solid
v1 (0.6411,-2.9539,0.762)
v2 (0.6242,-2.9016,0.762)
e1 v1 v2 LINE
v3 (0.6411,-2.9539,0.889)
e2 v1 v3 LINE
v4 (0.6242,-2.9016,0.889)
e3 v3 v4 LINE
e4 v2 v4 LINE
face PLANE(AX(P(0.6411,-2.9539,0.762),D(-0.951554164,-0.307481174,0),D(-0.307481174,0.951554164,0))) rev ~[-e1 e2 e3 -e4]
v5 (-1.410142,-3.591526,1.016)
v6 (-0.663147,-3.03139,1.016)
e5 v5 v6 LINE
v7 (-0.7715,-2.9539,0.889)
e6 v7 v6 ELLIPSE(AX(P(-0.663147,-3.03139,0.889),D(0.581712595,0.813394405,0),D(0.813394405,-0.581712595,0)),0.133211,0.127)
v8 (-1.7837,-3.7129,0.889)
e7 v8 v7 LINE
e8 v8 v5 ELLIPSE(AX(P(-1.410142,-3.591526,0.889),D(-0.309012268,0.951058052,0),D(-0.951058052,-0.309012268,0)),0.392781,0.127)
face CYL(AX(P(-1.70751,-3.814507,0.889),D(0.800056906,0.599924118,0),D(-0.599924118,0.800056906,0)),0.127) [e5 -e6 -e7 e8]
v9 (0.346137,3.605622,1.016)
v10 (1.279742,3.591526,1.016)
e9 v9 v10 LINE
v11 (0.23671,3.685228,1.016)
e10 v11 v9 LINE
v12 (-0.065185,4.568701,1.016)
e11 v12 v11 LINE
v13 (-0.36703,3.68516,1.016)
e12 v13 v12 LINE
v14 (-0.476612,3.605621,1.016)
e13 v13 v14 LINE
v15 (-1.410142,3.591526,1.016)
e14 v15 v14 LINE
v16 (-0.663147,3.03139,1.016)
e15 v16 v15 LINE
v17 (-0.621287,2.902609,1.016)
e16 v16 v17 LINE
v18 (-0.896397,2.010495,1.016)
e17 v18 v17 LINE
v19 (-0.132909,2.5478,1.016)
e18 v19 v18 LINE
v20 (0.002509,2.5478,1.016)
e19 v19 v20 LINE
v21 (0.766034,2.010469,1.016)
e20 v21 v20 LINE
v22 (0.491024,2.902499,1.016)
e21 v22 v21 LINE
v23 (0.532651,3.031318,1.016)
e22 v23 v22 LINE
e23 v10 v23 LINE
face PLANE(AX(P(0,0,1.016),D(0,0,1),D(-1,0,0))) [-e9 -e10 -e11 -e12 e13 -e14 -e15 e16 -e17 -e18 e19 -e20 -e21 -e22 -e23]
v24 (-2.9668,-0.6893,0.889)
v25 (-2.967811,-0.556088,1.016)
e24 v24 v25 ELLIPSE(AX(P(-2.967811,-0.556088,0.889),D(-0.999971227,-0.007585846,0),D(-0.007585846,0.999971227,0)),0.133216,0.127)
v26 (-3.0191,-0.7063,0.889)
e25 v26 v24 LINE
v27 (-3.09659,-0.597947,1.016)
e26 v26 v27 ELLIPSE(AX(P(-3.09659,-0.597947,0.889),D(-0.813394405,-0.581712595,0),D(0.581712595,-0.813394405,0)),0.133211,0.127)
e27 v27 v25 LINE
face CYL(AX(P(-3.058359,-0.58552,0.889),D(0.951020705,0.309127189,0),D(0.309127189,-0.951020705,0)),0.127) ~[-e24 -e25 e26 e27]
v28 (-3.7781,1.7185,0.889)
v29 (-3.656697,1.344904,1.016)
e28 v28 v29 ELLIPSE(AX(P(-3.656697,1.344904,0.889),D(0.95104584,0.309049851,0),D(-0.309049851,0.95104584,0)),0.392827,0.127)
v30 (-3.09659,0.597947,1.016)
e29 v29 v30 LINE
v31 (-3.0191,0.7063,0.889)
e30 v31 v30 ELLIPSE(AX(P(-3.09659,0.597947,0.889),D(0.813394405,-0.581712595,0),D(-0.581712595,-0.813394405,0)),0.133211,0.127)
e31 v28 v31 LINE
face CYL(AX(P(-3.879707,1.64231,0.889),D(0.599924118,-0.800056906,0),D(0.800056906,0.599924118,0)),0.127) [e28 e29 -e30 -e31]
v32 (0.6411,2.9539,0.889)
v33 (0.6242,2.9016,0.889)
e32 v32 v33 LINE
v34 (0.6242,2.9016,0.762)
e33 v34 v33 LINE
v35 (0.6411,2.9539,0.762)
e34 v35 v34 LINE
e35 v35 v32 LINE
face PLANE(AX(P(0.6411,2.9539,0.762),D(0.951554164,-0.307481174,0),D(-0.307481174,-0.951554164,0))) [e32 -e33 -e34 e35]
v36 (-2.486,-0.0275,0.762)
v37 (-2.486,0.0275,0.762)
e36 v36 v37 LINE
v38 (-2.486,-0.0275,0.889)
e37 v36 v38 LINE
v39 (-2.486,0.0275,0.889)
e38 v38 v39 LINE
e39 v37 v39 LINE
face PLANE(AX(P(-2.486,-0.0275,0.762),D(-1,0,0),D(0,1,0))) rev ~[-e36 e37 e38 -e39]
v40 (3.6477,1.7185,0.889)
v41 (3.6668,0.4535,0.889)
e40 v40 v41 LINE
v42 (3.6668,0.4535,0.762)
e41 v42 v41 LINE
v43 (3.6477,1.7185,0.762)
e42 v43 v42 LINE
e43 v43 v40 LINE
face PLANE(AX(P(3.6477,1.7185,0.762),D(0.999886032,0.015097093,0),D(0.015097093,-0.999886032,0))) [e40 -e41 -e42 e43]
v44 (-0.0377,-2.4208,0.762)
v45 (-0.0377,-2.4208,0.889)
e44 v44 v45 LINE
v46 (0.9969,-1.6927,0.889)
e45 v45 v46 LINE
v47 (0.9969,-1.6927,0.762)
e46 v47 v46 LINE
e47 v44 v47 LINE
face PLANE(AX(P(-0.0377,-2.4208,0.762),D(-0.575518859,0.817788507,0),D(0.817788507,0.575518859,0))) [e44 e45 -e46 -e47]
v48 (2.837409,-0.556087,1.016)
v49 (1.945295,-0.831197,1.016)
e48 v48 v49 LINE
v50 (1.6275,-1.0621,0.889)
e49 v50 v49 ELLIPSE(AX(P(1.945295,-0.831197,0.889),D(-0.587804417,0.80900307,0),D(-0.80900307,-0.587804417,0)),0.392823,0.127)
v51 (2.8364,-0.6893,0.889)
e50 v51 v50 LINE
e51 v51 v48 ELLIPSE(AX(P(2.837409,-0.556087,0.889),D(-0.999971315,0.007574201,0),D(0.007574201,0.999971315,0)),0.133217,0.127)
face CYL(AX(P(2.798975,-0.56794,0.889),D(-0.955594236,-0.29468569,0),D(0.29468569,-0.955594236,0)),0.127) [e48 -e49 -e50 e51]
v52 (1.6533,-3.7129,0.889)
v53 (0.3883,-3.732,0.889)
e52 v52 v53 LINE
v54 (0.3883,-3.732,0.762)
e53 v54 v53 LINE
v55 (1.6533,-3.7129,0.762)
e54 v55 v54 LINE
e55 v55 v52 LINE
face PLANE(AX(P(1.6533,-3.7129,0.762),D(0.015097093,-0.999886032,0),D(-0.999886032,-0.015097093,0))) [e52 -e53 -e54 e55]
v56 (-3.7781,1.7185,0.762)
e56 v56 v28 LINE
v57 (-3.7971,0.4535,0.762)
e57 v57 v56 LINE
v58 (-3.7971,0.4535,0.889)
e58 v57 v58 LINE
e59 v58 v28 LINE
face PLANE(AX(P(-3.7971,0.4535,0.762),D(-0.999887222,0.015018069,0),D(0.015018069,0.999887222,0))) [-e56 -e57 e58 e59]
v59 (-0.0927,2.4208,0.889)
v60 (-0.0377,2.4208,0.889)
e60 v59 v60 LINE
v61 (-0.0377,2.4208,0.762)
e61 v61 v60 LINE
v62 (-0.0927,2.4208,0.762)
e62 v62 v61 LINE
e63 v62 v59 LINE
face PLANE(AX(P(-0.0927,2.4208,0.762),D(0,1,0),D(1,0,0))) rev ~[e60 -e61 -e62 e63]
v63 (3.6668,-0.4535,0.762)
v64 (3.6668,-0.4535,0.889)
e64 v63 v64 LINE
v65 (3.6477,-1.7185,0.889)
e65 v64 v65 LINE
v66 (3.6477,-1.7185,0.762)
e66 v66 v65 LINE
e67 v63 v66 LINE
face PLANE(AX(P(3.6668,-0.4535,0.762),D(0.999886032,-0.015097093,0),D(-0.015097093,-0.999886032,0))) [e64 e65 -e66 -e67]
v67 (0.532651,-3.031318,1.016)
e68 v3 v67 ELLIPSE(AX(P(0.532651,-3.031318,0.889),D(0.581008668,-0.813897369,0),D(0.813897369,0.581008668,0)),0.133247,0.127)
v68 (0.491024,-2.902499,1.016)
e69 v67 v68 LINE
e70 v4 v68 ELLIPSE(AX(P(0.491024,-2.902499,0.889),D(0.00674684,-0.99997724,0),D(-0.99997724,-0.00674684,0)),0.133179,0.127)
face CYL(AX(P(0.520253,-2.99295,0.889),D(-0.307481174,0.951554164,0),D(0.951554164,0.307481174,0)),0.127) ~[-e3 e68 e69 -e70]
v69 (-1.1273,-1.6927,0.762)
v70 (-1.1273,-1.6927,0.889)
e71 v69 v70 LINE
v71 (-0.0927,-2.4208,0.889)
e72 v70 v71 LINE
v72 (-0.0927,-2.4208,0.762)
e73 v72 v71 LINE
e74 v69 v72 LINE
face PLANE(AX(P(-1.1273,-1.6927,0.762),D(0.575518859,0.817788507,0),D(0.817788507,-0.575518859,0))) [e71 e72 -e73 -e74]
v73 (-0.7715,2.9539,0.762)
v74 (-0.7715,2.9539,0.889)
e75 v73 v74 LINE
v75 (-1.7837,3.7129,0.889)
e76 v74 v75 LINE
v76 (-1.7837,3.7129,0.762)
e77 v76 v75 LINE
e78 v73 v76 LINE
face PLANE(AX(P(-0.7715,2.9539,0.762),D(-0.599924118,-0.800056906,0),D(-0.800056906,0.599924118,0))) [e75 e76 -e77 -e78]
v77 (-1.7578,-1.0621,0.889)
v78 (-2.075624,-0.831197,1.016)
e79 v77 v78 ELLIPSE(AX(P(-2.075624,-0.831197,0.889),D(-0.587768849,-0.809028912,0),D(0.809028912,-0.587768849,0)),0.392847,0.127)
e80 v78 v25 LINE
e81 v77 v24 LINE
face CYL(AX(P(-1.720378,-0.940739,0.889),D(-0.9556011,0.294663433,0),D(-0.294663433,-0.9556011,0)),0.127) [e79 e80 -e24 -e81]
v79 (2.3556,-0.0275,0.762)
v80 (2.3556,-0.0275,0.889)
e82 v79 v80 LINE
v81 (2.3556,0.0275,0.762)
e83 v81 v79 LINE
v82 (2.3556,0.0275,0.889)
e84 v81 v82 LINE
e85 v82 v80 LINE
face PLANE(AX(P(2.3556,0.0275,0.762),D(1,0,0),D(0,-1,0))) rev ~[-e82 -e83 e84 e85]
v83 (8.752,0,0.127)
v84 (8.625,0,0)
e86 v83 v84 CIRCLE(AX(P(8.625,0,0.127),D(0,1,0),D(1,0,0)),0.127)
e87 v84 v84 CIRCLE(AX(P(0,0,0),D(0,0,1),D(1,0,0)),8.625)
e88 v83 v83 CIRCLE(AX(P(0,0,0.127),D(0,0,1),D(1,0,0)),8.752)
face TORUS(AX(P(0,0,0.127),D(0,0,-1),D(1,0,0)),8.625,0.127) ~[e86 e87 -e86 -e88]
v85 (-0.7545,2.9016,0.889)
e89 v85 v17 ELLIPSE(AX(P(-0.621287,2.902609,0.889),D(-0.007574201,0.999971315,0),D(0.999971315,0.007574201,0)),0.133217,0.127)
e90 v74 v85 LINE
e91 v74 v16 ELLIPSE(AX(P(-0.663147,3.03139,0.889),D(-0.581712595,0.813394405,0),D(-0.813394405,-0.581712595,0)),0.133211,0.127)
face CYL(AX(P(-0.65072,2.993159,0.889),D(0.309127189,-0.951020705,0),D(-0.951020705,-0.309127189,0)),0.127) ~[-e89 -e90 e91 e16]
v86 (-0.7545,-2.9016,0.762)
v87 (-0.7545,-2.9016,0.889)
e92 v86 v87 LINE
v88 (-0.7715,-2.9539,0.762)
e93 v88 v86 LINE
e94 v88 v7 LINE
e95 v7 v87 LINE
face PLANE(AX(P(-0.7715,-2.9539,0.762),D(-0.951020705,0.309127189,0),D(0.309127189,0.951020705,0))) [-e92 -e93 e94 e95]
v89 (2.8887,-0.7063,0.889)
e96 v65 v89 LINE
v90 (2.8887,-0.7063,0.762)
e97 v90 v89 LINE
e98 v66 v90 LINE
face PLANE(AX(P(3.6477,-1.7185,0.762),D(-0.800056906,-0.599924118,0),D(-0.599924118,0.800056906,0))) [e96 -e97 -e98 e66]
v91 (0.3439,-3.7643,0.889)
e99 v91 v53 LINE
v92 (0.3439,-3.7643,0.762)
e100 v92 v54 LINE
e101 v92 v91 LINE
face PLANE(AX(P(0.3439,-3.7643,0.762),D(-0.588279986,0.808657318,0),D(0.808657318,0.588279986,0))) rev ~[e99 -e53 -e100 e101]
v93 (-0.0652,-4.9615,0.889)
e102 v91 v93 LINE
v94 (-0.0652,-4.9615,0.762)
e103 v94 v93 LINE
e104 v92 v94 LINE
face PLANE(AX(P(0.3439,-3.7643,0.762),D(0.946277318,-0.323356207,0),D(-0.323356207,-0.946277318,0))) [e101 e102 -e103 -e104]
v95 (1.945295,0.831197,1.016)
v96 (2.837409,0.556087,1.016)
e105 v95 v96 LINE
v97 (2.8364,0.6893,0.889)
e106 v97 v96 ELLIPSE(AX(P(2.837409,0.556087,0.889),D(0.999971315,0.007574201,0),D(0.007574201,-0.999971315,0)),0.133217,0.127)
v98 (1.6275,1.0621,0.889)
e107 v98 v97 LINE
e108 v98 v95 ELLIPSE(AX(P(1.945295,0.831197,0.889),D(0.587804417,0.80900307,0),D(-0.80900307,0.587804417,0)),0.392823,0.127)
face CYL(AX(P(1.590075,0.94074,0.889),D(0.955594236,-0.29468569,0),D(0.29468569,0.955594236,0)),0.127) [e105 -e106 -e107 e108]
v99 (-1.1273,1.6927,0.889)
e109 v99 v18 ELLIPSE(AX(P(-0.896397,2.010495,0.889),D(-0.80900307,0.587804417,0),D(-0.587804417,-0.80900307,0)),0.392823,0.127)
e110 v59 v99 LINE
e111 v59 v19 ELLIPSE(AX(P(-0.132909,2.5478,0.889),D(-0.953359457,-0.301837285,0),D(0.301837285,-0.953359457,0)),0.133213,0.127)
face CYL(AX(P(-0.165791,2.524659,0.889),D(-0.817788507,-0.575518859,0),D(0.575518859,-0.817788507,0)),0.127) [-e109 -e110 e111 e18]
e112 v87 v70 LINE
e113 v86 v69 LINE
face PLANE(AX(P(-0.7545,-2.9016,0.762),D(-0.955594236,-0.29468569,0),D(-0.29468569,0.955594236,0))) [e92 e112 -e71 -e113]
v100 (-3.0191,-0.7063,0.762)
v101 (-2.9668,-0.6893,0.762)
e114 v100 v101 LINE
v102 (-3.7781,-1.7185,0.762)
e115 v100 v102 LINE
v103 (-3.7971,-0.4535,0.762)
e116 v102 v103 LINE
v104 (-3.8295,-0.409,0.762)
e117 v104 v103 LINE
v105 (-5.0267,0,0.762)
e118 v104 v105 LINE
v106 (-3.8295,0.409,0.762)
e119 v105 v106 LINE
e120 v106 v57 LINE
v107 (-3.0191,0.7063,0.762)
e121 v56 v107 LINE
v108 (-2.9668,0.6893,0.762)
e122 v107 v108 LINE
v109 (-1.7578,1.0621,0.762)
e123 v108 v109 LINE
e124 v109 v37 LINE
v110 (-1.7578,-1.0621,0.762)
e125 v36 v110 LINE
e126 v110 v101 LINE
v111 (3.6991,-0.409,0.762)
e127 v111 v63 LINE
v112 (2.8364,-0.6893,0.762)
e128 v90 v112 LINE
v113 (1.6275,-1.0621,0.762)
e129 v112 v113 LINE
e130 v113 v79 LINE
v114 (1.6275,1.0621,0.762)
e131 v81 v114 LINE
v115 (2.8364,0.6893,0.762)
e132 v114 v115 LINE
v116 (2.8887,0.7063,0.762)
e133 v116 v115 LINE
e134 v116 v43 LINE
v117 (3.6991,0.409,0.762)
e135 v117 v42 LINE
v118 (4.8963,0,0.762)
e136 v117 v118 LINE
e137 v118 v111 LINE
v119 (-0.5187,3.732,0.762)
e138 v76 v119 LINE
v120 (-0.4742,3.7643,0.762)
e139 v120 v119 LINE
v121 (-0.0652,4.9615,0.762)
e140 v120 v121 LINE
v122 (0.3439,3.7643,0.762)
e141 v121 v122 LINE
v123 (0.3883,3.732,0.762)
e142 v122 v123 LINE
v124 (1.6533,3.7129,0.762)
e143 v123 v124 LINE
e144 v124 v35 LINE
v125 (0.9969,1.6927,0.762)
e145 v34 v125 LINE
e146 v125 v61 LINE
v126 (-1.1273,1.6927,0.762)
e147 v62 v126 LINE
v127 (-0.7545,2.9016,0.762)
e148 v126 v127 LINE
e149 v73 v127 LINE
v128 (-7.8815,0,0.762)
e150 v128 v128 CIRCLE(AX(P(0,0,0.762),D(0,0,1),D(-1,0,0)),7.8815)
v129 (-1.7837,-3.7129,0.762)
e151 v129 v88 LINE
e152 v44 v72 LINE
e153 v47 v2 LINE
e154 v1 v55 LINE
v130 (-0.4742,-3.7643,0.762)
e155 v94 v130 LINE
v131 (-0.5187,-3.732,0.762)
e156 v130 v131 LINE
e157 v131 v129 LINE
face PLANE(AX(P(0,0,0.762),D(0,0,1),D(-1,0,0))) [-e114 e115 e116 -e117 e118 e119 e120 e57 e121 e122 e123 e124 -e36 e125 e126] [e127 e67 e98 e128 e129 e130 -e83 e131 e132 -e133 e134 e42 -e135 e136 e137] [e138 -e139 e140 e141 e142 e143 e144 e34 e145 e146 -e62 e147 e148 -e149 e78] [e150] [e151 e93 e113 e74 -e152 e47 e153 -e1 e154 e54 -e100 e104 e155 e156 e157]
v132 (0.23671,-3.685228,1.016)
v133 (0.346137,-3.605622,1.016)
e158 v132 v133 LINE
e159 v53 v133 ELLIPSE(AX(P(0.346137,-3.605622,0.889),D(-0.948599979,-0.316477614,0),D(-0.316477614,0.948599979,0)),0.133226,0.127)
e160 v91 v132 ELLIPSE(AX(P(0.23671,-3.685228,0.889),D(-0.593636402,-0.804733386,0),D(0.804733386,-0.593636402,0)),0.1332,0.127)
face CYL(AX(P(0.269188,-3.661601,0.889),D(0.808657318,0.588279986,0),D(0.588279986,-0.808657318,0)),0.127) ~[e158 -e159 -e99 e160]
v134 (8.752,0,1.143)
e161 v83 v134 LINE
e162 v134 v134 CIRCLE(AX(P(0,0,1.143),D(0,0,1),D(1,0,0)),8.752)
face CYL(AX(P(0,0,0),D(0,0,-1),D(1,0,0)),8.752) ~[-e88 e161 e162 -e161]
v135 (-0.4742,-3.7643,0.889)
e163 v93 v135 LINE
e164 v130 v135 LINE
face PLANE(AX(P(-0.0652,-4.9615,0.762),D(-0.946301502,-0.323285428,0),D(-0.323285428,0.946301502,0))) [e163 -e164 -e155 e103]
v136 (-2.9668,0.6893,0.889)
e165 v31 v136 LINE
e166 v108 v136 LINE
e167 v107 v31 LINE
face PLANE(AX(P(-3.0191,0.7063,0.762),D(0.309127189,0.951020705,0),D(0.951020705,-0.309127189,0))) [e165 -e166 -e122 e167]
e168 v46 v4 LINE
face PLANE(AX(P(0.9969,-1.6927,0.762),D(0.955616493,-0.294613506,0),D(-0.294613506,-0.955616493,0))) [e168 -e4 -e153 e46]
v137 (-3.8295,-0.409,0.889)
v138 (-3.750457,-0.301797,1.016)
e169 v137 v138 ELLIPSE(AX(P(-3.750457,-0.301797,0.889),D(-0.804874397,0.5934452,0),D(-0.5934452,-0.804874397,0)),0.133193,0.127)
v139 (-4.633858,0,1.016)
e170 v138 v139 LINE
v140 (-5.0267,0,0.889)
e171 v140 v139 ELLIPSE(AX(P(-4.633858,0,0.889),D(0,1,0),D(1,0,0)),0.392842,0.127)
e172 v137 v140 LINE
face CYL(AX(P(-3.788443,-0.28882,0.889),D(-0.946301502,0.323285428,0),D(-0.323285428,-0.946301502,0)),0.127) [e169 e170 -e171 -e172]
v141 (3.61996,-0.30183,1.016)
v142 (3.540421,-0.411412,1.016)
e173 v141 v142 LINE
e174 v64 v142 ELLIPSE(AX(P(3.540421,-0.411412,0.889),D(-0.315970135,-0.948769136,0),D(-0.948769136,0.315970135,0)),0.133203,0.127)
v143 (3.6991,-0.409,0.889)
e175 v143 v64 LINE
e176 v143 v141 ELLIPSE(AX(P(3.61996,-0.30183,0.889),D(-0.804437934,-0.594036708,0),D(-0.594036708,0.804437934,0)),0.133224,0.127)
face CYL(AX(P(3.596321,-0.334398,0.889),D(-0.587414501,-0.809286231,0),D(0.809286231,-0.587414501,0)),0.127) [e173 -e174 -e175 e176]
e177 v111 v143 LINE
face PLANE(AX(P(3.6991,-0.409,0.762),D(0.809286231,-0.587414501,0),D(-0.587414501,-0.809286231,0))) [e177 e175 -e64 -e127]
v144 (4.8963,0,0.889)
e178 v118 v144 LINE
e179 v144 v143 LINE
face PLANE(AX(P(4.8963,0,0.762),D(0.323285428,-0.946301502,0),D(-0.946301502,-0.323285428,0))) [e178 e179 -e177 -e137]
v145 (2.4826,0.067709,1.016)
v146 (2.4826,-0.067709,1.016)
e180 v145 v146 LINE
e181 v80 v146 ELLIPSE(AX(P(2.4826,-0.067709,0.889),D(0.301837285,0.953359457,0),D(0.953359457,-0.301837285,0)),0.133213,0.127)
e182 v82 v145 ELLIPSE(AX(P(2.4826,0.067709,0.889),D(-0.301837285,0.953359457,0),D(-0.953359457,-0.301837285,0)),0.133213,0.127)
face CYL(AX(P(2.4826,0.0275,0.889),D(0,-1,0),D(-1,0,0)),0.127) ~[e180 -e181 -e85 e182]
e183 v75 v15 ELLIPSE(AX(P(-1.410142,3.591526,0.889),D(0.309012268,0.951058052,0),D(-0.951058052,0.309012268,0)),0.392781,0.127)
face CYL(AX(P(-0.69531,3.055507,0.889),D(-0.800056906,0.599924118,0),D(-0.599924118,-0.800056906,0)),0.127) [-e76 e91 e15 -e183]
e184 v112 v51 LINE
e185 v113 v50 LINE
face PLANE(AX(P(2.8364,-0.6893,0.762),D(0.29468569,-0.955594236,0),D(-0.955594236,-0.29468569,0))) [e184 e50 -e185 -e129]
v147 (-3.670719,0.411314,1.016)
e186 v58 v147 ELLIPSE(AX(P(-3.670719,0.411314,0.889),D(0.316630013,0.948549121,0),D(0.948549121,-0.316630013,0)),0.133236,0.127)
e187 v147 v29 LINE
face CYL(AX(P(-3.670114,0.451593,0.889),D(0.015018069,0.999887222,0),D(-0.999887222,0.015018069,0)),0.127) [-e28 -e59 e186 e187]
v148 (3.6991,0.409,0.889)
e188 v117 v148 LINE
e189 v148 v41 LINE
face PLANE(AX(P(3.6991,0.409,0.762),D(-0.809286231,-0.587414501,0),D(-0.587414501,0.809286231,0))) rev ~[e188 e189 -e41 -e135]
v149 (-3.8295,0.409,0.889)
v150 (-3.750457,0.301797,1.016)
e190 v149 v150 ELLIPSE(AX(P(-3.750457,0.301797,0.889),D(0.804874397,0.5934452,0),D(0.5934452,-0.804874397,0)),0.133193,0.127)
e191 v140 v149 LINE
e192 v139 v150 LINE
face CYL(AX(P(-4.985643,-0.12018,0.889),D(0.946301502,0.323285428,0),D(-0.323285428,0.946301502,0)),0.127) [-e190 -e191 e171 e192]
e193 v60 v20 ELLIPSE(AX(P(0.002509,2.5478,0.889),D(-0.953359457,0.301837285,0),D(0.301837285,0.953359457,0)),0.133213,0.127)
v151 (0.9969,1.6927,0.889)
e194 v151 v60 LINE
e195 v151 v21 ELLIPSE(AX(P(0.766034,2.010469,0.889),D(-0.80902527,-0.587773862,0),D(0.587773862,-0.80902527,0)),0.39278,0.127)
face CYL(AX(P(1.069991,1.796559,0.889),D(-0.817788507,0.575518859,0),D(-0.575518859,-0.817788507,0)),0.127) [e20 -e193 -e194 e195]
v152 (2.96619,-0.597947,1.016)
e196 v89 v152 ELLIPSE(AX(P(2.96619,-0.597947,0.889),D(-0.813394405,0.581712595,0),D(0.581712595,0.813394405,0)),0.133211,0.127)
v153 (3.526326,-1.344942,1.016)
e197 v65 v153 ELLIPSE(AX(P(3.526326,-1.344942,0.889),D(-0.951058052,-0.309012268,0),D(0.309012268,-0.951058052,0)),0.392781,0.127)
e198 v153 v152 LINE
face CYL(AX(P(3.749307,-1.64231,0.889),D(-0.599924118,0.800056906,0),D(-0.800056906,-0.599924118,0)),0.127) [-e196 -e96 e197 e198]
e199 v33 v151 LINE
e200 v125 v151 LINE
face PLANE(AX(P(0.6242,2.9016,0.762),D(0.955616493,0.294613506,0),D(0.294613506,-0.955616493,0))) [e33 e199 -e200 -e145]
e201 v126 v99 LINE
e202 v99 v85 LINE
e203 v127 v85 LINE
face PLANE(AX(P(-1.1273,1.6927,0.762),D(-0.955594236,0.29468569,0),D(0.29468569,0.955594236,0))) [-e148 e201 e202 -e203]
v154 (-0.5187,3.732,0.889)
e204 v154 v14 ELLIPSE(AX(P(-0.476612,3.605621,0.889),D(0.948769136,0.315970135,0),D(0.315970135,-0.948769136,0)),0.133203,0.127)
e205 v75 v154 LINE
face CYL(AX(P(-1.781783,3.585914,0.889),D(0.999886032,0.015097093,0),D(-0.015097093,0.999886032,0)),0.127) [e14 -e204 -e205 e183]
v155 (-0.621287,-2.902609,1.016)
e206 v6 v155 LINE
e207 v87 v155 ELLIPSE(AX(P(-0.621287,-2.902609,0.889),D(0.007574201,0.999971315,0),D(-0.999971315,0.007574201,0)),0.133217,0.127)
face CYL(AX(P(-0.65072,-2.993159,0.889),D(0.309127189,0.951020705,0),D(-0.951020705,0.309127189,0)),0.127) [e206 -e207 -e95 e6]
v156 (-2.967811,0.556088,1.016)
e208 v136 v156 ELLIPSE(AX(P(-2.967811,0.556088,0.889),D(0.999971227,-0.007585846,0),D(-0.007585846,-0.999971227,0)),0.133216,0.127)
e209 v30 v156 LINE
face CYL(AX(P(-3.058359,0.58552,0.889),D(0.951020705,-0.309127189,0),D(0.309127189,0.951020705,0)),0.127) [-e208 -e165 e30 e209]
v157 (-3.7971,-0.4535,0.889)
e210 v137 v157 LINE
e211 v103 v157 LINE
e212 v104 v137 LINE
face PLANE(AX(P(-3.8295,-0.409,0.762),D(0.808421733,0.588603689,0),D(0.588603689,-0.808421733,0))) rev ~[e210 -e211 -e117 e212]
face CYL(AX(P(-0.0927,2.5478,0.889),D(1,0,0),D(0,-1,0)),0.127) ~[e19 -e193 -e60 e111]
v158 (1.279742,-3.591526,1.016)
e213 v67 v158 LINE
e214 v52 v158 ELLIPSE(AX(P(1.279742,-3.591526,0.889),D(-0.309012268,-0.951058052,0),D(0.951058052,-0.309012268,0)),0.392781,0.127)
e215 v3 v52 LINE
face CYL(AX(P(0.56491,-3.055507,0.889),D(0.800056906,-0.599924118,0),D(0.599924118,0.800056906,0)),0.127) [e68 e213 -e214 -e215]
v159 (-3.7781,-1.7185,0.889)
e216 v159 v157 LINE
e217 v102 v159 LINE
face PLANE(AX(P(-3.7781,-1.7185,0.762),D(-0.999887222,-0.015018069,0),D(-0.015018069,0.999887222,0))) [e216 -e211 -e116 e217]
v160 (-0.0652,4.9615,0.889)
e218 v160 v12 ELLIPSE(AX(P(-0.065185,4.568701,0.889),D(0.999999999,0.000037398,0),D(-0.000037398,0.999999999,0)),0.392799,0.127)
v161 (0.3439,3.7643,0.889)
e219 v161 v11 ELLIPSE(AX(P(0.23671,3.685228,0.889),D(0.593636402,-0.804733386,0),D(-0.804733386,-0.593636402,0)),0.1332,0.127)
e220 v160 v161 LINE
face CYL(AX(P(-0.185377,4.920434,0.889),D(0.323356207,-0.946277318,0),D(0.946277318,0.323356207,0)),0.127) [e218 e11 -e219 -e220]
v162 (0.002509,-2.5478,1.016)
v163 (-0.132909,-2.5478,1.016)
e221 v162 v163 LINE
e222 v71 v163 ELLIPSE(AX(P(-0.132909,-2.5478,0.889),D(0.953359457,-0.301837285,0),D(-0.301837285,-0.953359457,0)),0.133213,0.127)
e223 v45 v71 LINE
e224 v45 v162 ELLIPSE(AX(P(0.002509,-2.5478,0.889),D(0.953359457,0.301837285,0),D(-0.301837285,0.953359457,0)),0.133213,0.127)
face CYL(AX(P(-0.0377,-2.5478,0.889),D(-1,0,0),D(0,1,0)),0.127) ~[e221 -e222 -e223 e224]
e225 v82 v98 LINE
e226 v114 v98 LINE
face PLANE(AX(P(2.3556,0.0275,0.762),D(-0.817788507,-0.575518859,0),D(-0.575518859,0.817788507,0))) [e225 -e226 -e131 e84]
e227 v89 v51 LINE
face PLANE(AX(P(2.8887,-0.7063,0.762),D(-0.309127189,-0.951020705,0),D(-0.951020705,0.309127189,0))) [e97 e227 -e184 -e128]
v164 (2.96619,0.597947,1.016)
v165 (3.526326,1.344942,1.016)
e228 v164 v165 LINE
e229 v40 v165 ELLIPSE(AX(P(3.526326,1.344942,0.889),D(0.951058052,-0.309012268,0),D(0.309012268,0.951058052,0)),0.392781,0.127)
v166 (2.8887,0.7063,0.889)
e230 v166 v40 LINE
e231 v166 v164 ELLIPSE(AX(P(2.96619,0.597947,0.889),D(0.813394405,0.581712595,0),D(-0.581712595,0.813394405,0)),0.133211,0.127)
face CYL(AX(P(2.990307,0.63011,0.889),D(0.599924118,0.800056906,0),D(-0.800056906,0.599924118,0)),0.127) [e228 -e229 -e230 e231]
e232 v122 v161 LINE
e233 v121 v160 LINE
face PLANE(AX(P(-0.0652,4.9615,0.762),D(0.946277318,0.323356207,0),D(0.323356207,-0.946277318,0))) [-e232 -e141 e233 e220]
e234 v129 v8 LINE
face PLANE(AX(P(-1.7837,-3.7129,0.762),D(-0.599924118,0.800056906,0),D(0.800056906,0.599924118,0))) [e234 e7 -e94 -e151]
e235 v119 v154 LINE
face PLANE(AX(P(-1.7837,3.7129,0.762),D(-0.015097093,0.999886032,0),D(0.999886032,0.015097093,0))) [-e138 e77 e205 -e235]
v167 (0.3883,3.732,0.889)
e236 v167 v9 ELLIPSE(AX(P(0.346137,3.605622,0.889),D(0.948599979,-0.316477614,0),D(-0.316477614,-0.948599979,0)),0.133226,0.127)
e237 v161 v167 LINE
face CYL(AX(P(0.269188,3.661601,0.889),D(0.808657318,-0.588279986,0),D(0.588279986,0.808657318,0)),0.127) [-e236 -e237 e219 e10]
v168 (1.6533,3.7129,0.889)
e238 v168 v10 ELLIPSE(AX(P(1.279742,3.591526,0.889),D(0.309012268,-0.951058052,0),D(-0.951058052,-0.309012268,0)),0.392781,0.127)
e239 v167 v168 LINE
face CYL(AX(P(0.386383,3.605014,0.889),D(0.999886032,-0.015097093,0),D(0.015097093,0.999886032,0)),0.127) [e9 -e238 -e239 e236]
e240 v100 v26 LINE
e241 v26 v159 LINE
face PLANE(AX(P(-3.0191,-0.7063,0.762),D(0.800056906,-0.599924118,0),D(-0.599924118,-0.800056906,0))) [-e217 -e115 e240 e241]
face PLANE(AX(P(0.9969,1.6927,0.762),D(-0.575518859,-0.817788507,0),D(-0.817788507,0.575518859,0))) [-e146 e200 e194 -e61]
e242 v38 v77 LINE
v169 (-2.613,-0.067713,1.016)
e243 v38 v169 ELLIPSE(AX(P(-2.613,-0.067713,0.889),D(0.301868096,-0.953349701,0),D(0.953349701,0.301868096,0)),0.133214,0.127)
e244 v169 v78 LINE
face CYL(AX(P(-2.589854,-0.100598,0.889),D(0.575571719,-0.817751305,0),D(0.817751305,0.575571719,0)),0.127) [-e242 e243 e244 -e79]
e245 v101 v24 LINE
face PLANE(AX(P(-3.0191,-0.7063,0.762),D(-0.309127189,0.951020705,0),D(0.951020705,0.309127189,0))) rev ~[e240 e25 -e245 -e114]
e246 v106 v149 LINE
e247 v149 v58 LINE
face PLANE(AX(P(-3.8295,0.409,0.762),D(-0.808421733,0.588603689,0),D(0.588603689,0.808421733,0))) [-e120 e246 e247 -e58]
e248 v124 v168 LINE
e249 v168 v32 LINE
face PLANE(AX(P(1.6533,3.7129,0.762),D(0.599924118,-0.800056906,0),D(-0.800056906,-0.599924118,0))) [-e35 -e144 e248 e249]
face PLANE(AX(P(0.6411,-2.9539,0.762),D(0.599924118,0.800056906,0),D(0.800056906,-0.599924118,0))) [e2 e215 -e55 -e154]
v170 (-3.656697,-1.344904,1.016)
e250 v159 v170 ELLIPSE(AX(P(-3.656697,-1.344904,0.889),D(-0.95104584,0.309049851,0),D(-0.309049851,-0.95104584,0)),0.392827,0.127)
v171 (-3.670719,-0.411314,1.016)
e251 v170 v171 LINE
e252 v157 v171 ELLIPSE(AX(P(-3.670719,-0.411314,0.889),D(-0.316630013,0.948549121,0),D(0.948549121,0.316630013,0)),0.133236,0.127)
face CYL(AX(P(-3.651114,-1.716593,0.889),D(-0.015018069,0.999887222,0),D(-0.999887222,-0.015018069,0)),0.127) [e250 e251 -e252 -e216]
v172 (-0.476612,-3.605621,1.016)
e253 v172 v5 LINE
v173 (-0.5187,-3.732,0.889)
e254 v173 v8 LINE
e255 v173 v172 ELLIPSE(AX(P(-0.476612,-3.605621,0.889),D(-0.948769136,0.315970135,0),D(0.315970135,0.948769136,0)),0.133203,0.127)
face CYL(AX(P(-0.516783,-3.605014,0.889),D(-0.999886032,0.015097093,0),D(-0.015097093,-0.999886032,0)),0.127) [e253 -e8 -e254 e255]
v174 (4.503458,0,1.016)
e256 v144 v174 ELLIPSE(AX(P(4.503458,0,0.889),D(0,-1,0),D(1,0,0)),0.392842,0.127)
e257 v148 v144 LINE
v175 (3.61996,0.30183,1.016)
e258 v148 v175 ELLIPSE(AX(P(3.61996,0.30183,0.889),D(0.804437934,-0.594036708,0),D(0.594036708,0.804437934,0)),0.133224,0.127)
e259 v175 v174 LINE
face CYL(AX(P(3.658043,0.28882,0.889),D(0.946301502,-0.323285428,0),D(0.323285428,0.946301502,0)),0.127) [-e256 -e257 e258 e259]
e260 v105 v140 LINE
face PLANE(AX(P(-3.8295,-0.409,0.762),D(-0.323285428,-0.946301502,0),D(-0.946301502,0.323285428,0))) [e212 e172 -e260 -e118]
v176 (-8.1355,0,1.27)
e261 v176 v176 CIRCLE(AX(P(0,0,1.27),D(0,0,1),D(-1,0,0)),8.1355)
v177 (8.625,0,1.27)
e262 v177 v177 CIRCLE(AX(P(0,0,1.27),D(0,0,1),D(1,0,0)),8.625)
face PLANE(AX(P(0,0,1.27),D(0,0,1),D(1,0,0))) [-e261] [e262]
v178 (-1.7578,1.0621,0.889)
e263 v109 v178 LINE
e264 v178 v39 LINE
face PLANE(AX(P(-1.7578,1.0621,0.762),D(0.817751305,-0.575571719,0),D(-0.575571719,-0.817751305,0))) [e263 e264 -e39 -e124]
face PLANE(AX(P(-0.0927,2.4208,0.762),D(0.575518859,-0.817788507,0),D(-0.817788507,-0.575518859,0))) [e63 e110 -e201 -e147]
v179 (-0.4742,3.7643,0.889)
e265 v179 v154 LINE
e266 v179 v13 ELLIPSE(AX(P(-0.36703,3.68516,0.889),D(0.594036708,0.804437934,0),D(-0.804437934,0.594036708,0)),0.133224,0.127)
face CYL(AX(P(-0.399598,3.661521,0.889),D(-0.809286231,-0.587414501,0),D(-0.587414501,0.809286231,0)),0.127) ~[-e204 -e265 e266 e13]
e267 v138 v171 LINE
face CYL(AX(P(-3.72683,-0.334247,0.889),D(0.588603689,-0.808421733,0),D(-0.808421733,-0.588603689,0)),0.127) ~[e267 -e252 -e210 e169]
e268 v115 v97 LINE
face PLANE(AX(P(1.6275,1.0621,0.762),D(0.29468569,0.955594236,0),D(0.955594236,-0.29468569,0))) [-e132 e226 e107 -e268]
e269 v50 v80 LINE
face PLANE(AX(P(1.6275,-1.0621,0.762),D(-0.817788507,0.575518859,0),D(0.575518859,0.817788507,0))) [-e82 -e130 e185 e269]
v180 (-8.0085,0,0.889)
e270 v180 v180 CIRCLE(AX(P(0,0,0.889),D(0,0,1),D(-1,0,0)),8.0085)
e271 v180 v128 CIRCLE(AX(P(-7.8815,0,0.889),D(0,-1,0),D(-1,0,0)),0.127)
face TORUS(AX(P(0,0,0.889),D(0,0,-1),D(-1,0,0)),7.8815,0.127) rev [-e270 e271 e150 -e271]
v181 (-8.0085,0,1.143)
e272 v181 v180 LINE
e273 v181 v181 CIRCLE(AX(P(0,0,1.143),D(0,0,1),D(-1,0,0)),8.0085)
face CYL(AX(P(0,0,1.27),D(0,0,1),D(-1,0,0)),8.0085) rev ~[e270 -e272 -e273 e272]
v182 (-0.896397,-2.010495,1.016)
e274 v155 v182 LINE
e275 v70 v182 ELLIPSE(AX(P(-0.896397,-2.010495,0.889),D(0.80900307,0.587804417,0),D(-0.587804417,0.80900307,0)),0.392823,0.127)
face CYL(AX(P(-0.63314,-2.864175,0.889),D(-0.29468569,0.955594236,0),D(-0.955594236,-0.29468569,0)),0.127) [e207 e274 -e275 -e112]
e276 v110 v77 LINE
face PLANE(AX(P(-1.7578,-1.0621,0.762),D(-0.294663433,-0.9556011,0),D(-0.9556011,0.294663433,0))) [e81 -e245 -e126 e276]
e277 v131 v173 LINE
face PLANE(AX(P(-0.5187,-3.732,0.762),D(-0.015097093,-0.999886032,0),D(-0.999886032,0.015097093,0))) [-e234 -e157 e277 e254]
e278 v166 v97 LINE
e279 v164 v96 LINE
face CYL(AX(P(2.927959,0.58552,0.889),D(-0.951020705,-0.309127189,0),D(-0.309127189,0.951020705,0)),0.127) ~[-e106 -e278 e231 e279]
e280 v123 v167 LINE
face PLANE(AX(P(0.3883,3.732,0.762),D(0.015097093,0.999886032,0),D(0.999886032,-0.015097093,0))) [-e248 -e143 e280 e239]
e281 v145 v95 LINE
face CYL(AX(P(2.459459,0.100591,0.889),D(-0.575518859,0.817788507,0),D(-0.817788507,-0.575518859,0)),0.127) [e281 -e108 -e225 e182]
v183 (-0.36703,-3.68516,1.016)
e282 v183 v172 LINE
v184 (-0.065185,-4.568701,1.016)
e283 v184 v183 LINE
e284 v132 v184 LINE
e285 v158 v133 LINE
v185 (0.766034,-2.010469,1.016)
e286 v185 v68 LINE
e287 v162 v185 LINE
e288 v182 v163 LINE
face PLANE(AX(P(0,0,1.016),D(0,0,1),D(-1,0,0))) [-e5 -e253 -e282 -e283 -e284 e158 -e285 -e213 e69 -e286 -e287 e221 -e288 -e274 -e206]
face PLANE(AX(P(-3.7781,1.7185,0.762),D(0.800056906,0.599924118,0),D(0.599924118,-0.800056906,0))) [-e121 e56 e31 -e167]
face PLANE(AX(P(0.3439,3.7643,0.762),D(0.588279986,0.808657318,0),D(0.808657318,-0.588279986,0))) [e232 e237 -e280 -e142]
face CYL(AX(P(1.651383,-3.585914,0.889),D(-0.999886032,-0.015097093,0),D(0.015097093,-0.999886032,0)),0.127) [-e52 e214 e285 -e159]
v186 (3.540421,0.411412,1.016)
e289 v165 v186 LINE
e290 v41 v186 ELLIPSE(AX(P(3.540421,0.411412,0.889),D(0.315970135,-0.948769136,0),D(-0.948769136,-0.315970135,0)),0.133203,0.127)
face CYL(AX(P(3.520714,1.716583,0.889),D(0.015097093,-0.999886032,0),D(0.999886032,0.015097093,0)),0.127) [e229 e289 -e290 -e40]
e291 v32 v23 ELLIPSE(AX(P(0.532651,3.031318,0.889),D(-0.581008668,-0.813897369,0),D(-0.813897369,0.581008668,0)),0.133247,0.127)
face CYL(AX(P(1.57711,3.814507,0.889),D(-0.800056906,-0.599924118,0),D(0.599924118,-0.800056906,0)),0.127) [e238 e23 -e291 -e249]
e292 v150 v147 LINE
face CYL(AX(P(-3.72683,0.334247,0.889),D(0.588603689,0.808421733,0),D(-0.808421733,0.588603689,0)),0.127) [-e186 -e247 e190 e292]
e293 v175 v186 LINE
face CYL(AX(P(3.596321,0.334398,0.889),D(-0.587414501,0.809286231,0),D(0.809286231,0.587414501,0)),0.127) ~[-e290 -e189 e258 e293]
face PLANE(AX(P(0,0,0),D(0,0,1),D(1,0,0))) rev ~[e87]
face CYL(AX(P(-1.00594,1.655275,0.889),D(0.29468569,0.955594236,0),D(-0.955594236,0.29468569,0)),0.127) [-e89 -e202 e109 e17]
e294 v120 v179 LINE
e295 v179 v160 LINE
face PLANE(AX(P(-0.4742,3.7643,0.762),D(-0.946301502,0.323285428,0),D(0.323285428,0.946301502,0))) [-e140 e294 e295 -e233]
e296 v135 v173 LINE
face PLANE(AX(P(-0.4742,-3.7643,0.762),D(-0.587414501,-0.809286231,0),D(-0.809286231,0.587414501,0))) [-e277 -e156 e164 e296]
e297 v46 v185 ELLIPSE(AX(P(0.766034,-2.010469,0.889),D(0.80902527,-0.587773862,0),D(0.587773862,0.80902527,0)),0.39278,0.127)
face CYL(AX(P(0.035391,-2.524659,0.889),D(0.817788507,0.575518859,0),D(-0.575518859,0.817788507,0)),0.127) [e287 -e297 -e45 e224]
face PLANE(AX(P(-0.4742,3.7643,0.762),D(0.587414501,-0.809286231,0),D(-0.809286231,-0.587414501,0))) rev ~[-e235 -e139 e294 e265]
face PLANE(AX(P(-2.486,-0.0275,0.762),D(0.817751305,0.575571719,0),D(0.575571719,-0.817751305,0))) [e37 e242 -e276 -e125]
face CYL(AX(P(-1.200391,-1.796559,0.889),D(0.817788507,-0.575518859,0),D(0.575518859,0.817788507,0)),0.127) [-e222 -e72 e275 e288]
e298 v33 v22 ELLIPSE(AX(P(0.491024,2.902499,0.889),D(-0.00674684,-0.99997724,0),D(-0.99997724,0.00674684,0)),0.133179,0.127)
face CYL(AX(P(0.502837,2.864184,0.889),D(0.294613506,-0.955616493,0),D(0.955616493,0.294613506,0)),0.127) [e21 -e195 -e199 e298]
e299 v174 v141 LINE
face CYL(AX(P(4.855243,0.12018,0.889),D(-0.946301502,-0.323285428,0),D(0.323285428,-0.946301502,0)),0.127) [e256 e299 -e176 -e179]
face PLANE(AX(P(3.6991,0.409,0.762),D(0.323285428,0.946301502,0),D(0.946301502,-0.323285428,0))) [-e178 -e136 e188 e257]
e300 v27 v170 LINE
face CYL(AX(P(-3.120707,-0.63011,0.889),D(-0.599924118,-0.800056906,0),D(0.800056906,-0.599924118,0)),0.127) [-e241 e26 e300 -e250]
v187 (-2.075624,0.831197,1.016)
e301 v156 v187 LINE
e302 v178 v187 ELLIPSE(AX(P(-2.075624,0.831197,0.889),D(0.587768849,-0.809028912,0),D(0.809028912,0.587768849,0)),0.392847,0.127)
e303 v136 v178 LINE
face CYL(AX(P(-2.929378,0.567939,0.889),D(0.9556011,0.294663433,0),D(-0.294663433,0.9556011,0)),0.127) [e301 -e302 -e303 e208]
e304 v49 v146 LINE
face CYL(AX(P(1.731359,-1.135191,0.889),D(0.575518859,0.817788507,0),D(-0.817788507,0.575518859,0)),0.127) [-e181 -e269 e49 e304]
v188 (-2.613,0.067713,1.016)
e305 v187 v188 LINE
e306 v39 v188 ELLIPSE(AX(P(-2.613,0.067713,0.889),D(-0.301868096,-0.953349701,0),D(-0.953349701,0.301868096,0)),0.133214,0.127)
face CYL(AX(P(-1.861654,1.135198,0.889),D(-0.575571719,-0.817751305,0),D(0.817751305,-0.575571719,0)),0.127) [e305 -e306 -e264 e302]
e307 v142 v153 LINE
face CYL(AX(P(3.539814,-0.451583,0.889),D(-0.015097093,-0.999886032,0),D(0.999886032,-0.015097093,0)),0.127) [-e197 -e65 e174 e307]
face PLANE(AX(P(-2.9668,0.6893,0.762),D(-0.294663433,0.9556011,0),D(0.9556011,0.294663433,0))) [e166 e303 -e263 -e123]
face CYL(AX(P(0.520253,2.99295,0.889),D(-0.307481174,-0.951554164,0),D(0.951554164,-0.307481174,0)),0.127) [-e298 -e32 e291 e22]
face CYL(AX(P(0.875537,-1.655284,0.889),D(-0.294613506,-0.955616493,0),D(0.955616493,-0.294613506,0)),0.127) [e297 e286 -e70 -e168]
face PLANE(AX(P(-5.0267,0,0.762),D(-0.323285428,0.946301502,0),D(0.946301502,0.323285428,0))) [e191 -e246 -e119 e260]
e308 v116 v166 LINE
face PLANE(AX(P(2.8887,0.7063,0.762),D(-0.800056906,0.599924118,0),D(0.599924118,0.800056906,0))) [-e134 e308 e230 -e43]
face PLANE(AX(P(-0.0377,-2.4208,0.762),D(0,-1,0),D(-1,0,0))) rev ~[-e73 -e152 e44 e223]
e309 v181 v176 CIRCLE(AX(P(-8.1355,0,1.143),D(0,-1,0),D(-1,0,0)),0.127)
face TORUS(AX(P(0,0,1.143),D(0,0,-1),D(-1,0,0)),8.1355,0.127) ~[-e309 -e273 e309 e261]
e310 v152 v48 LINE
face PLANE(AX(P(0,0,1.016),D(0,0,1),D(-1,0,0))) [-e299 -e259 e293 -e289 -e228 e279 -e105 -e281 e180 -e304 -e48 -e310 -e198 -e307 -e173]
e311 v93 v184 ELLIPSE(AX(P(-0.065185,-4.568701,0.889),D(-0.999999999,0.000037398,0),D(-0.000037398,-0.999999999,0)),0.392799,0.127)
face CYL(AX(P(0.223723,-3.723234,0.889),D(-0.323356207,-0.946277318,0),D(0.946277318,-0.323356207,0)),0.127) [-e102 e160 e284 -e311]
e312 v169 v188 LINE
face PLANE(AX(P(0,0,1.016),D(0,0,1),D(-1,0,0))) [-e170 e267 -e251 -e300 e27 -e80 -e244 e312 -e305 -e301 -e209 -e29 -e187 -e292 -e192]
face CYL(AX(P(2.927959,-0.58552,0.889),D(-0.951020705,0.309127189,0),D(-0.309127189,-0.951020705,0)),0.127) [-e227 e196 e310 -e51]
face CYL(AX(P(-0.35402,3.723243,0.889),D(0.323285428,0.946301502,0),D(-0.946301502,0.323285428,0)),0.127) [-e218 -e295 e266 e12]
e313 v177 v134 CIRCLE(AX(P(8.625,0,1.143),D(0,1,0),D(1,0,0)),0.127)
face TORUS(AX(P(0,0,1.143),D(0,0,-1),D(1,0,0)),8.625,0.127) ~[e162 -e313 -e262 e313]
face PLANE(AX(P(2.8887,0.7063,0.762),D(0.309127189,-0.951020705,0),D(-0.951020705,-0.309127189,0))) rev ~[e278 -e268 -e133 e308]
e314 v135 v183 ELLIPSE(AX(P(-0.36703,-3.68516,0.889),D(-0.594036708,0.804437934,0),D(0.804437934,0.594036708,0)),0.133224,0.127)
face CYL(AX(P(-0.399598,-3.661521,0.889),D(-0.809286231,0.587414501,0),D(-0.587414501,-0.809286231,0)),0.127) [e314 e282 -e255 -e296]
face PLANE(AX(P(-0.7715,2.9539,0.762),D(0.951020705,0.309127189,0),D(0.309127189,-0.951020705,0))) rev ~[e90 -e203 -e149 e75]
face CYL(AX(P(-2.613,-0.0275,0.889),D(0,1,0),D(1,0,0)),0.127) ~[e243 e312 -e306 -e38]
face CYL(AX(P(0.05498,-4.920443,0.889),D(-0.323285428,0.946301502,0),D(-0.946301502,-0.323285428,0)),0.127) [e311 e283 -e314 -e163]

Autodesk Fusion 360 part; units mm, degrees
sketch "Sketch1" plane through (0, 0, 0) normal (0, 0, 1) x (1, 0, 0)
sketch "Sketch2" plane through (0, 0, 0) normal (0, 0, 1) x (1, 0, 0)
  circle A0 centre (0, 0) radius 8.752
  circle A1 centre (0, 0) radius 8.0085
  line L0 (-0.4742, 3.7643) -> (-0.0652, 4.9615)
  line L1 (-0.0652, 4.9615) -> (0.3439, 3.7643)
  line L2 (0.3439, 3.7643) -> (-0.4742, 3.7643) construction
  line L3 (-0.0652, 4.9615) -> (-0.0652, 3.7643) construction
  line L4 (-0.4742, 3.7643) -> (-0.0652, 3.1545) construction
  line L5 (-0.0652, 3.1545) -> (-0.0652, 3.7643) construction
  line L6 (-0.0652, 3.1545) -> (0.3439, 3.7643) construction
  line L7 (-0.0652, 3.1545) -> (-0.0652, 0) construction
  line L8 (-0.0652, 0) -> (0, 0) construction
  line L9 (-0.7715, 2.9539) -> (-1.7837, 3.7129)
  line L10 (-1.7837, 3.7129) -> (-0.5187, 3.732)
  line L11 (-0.0927, 2.4208) -> (-1.1273, 1.6927)
  line L12 (-1.1273, 1.6927) -> (-0.7545, 2.9016)
  line L13 (0.6242, 2.9016) -> (0.9969, 1.6927)
  line L14 (0.9969, 1.6927) -> (-0.0377, 2.4208)
  line L15 (0.3883, 3.732) -> (1.6533, 3.7129)
  line L16 (1.6533, 3.7129) -> (0.6411, 2.9539)
  line L17 (0.3439, 3.7643) -> (0.3883, 3.732)
  line L18 (0.6411, 2.9539) -> (0.6242, 2.9016)
  line L19 (-0.0927, 2.4208) -> (-0.0377, 2.4208)
  line L20 (-0.7715, 2.9539) -> (-0.7545, 2.9016)
  line L21 (-0.4742, 3.7643) -> (-0.5187, 3.732)
  line L22 (-3.7781, -1.7185) -> (-3.7971, -0.4535)
  line L23 (-3.8295, -0.409) -> (-5.0267, 0)
  line L24 (-3.8295, -0.409) -> (-3.7971, -0.4535)
  line L25 (-3.0191, -0.7063) -> (-3.7781, -1.7185)
  line L26 (-3.0191, -0.7063) -> (-2.9668, -0.6893)
  line L27 (-1.7578, -1.0621) -> (-2.9668, -0.6893)
  line L28 (-5.0267, 0) -> (-3.8295, 0.409)
  line L29 (-3.8295, 0.409) -> (-3.7971, 0.4535)
  line L30 (-3.7971, 0.4535) -> (-3.7781, 1.7185)
  line L31 (-3.7781, 1.7185) -> (-3.0191, 0.7063)
  line L32 (-3.0191, 0.7063) -> (-2.9668, 0.6893)
  line L33 (-2.9668, 0.6893) -> (-1.7578, 1.0621)
  line L34 (-1.7578, 1.0621) -> (-2.486, 0.0275)
  line L35 (-2.486, -0.0275) -> (-1.7578, -1.0621)
  line L36 (-2.486, -0.0275) -> (-2.486, 0.0275)
  line L37 (1.6533, -3.7129) -> (0.3883, -3.732)
  line L38 (0.3439, -3.7643) -> (-0.0652, -4.9615)
  line L39 (0.3439, -3.7643) -> (0.3883, -3.732)
  line L40 (0.6411, -2.9539) -> (1.6533, -3.7129)
  line L41 (0.6411, -2.9539) -> (0.6242, -2.9016)
  line L42 (0.9969, -1.6927) -> (0.6242, -2.9016)
  line L43 (-0.0652, -4.9615) -> (-0.4742, -3.7643)
  line L44 (-0.4742, -3.7643) -> (-0.5187, -3.732)
  line L45 (-0.5187, -3.732) -> (-1.7837, -3.7129)
  line L46 (-1.7837, -3.7129) -> (-0.7715, -2.9539)
  line L47 (-0.7715, -2.9539) -> (-0.7545, -2.9016)
  line L48 (-0.7545, -2.9016) -> (-1.1273, -1.6927)
  line L49 (-1.1273, -1.6927) -> (-0.0927, -2.4208)
  line L50 (-0.0377, -2.4208) -> (0.9969, -1.6927)
  line L51 (-0.0377, -2.4208) -> (-0.0927, -2.4208)
  line L52 (3.6477, 1.7185) -> (3.6668, 0.4535)
  line L53 (3.6991, 0.409) -> (4.8963, 0)
  line L54 (3.6991, 0.409) -> (3.6668, 0.4535)
  line L55 (2.8887, 0.7063) -> (3.6477, 1.7185)
  line L56 (2.8887, 0.7063) -> (2.8364, 0.6893)
  line L57 (1.6275, 1.0621) -> (2.8364, 0.6893)
  line L58 (4.8963, 0) -> (3.6991, -0.409)
  line L59 (3.6991, -0.409) -> (3.6668, -0.4535)
  line L60 (3.6668, -0.4535) -> (3.6477, -1.7185)
  line L61 (3.6477, -1.7185) -> (2.8887, -0.7063)
  line L62 (2.8887, -0.7063) -> (2.8364, -0.6893)
  line L63 (2.8364, -0.6893) -> (1.6275, -1.0621)
  line L64 (1.6275, -1.0621) -> (2.3556, -0.0275)
  line L65 (2.3556, 0.0275) -> (1.6275, 1.0621)
  line L66 (2.3556, 0.0275) -> (2.3556, -0.0275)
  dimension "d1" = 17.5041
  dimension "d2" = 0.0652
  dimension "d3" = 3.1545
  dimension "d4" = 0.7343
  dimension "d5" = 0.6098
  dimension "d6" = 1.1972
  dimension "d8" = 360
  dimension "d10" = 360
extrude "Extrude1" add sketch "Sketch2" along normal blind 1.27 contours A0 | A1 | L0 L1 L9 L10 L11 L12 L13 L14 L15 L16 L17 L18 L19 L20 L21 | L22 L23 L24 L25 L26 L27 L28 L29 L30 L31 L32 L33 L34 L35 L36 | L37 L38 L39 L40 L41 L42 L43 L44 L45 L46 L47 L48 L49 L50 L51 | L52 L53 L54 L55 L56 L57 L58 L59 L60 L61 L62 L63 L64 L65 L66
sketch "Sketch4" plane through (0, 0, 1.27) normal (0, 0, 1) x (-1, 0, 0)
  circle A0 centre (0, 0) radius 8.752
  circle A1 centre (0, 0) radius 8.0085
extrude "Extrude2" cut sketch "Sketch4" against normal blind 0.508 contours A1
sketch "Sketch5" plane through (0, 0, 0.762) normal (0, 0, 1) x (-1, 0, 0)
  circle A0 centre (0, 0) radius 8.0085
  line L0 (-1.6533, -3.7129) -> (-0.6411, -2.9539)
  line L1 (-0.3883, -3.732) -> (-1.6533, -3.7129)
  line L2 (0.0652, -4.9615) -> (-0.3439, -3.7643)
  line L3 (0.4742, -3.7643) -> (0.0652, -4.9615)
  line L4 (1.7837, -3.7129) -> (0.5187, -3.732)
  line L5 (0.7715, -2.9539) -> (1.7837, -3.7129)
  line L6 (-0.3439, -3.7643) -> (-0.3883, -3.732)
  line L7 (0.4742, -3.7643) -> (0.5187, -3.732)
  line L8 (0.7715, -2.9539) -> (0.7545, -2.9016)
  line L9 (1.1273, -1.6927) -> (0.7545, -2.9016)
  line L10 (0.0927, -2.4208) -> (1.1273, -1.6927)
  line L11 (0.0927, -2.4208) -> (0.0377, -2.4208)
  line L12 (-0.9969, -1.6927) -> (0.0377, -2.4208)
  line L13 (-0.6242, -2.9016) -> (-0.9969, -1.6927)
  line L14 (-0.6411, -2.9539) -> (-0.6242, -2.9016)
  line L15 (-2.8887, -0.7063) -> (-3.6477, -1.7185)
  line L16 (-3.6477, -1.7185) -> (-3.6668, -0.4535)
  line L17 (-1.6275, -1.0621) -> (-2.8364, -0.6893)
  line L18 (-2.3556, -0.0275) -> (-1.6275, -1.0621)
  line L19 (-2.8887, -0.7063) -> (-2.8364, -0.6893)
  line L20 (-3.6991, -0.409) -> (-3.6668, -0.4535)
  line L21 (-3.6991, -0.409) -> (-4.8963, 0)
  line L22 (-4.8963, 0) -> (-3.6991, 0.409)
  line L23 (-3.6991, 0.409) -> (-3.6668, 0.4535)
  line L24 (-3.6668, 0.4535) -> (-3.6477, 1.7185)
  line L25 (-3.6477, 1.7185) -> (-2.8887, 0.7063)
  line L26 (-2.8887, 0.7063) -> (-2.8364, 0.6893)
  line L27 (-2.8364, 0.6893) -> (-1.6275, 1.0621)
  line L28 (-1.6275, 1.0621) -> (-2.3556, 0.0275)
  line L29 (-2.3556, -0.0275) -> (-2.3556, 0.0275)
  line L30 (0.7545, 2.9016) -> (1.1273, 1.6927)
  line L31 (1.1273, 1.6927) -> (0.0927, 2.4208)
  line L32 (0.0377, 2.4208) -> (0.0927, 2.4208)
  line L33 (0.0377, 2.4208) -> (-0.9969, 1.6927)
  line L34 (-0.9969, 1.6927) -> (-0.6242, 2.9016)
  line L35 (-0.6411, 2.9539) -> (-0.6242, 2.9016)
  line L36 (-0.6411, 2.9539) -> (-1.6533, 3.7129)
  line L37 (-1.6533, 3.7129) -> (-0.3883, 3.732)
  line L38 (-0.3439, 3.7643) -> (-0.3883, 3.732)
  line L39 (-0.3439, 3.7643) -> (0.0652, 4.9615)
  line L40 (0.0652, 4.9615) -> (0.4742, 3.7643)
  line L41 (0.4742, 3.7643) -> (0.5187, 3.732)
  line L42 (0.5187, 3.732) -> (1.7837, 3.7129)
  line L43 (1.7837, 3.7129) -> (0.7715, 2.9539)
  line L44 (0.7715, 2.9539) -> (0.7545, 2.9016)
  line L45 (5.0267, 0) -> (3.8295, -0.409)
  line L46 (3.7971, -0.4535) -> (3.7781, -1.7185)
  line L47 (3.7781, -1.7185) -> (3.0191, -0.7063)
  line L48 (2.9668, -0.6893) -> (1.7578, -1.0621)
  line L49 (3.8295, -0.409) -> (3.7971, -0.4535)
  line L50 (3.0191, -0.7063) -> (2.9668, -0.6893)
  line L51 (1.7578, -1.0621) -> (2.486, -0.0275)
  line L52 (2.486, 0.0275) -> (1.7578, 1.0621)
  line L53 (2.486, 0.0275) -> (2.486, -0.0275)
  line L54 (1.7578, 1.0621) -> (2.9668, 0.6893)
  line L55 (3.0191, 0.7063) -> (2.9668, 0.6893)
  line L56 (3.0191, 0.7063) -> (3.7781, 1.7185)
  line L57 (3.8295, 0.409) -> (5.0267, 0)
  line L58 (3.8295, 0.409) -> (3.7971, 0.4535)
  line L59 (3.7781, 1.7185) -> (3.7971, 0.4535)
extrude "Extrude3" add sketch "Sketch5" along normal blind 0.254 contours L0 L1 L2 L3 L4 L5 L6 L7 L8 L9 L10 L11 L12 L13 L14 | L15 L16 L17 L18 L19 L20 L21 L22 L23 L24 L25 L26 L27 L28 L29 | L30 L31 L32 L33 L34 L35 L36 L37 L38 L39 L40 L41 L42 L43 L44 | L45 L46 L47 L48 L49 L50 L51 L52 L53 L54 L55 L56 L57 L58 L59
fillet "Fillet1" radius 0.127 1 edges at (7.4665, -2.896, 0.762)
fillet "Fillet2" radius 0.127 3 edges at (7.4665, -2.896, 1.27) (-8.1598, -3.1649, 1.27) (-8.1598, -3.1649, 0)
fillet "Fillet3" radius 0.127 1 faces at (0.0917, 3.1958, 1.016)
fillet "Fillet4" radius 0.127 1 faces at (3.1481, 0.1512, 1.016)
fillet "Fillet5" radius 0.127 1 faces at (-0.222, -3.1958, 1.016)
fillet "Fillet6" radius 0.127 1 faces at (-3.2785, 0.1512, 1.016)
